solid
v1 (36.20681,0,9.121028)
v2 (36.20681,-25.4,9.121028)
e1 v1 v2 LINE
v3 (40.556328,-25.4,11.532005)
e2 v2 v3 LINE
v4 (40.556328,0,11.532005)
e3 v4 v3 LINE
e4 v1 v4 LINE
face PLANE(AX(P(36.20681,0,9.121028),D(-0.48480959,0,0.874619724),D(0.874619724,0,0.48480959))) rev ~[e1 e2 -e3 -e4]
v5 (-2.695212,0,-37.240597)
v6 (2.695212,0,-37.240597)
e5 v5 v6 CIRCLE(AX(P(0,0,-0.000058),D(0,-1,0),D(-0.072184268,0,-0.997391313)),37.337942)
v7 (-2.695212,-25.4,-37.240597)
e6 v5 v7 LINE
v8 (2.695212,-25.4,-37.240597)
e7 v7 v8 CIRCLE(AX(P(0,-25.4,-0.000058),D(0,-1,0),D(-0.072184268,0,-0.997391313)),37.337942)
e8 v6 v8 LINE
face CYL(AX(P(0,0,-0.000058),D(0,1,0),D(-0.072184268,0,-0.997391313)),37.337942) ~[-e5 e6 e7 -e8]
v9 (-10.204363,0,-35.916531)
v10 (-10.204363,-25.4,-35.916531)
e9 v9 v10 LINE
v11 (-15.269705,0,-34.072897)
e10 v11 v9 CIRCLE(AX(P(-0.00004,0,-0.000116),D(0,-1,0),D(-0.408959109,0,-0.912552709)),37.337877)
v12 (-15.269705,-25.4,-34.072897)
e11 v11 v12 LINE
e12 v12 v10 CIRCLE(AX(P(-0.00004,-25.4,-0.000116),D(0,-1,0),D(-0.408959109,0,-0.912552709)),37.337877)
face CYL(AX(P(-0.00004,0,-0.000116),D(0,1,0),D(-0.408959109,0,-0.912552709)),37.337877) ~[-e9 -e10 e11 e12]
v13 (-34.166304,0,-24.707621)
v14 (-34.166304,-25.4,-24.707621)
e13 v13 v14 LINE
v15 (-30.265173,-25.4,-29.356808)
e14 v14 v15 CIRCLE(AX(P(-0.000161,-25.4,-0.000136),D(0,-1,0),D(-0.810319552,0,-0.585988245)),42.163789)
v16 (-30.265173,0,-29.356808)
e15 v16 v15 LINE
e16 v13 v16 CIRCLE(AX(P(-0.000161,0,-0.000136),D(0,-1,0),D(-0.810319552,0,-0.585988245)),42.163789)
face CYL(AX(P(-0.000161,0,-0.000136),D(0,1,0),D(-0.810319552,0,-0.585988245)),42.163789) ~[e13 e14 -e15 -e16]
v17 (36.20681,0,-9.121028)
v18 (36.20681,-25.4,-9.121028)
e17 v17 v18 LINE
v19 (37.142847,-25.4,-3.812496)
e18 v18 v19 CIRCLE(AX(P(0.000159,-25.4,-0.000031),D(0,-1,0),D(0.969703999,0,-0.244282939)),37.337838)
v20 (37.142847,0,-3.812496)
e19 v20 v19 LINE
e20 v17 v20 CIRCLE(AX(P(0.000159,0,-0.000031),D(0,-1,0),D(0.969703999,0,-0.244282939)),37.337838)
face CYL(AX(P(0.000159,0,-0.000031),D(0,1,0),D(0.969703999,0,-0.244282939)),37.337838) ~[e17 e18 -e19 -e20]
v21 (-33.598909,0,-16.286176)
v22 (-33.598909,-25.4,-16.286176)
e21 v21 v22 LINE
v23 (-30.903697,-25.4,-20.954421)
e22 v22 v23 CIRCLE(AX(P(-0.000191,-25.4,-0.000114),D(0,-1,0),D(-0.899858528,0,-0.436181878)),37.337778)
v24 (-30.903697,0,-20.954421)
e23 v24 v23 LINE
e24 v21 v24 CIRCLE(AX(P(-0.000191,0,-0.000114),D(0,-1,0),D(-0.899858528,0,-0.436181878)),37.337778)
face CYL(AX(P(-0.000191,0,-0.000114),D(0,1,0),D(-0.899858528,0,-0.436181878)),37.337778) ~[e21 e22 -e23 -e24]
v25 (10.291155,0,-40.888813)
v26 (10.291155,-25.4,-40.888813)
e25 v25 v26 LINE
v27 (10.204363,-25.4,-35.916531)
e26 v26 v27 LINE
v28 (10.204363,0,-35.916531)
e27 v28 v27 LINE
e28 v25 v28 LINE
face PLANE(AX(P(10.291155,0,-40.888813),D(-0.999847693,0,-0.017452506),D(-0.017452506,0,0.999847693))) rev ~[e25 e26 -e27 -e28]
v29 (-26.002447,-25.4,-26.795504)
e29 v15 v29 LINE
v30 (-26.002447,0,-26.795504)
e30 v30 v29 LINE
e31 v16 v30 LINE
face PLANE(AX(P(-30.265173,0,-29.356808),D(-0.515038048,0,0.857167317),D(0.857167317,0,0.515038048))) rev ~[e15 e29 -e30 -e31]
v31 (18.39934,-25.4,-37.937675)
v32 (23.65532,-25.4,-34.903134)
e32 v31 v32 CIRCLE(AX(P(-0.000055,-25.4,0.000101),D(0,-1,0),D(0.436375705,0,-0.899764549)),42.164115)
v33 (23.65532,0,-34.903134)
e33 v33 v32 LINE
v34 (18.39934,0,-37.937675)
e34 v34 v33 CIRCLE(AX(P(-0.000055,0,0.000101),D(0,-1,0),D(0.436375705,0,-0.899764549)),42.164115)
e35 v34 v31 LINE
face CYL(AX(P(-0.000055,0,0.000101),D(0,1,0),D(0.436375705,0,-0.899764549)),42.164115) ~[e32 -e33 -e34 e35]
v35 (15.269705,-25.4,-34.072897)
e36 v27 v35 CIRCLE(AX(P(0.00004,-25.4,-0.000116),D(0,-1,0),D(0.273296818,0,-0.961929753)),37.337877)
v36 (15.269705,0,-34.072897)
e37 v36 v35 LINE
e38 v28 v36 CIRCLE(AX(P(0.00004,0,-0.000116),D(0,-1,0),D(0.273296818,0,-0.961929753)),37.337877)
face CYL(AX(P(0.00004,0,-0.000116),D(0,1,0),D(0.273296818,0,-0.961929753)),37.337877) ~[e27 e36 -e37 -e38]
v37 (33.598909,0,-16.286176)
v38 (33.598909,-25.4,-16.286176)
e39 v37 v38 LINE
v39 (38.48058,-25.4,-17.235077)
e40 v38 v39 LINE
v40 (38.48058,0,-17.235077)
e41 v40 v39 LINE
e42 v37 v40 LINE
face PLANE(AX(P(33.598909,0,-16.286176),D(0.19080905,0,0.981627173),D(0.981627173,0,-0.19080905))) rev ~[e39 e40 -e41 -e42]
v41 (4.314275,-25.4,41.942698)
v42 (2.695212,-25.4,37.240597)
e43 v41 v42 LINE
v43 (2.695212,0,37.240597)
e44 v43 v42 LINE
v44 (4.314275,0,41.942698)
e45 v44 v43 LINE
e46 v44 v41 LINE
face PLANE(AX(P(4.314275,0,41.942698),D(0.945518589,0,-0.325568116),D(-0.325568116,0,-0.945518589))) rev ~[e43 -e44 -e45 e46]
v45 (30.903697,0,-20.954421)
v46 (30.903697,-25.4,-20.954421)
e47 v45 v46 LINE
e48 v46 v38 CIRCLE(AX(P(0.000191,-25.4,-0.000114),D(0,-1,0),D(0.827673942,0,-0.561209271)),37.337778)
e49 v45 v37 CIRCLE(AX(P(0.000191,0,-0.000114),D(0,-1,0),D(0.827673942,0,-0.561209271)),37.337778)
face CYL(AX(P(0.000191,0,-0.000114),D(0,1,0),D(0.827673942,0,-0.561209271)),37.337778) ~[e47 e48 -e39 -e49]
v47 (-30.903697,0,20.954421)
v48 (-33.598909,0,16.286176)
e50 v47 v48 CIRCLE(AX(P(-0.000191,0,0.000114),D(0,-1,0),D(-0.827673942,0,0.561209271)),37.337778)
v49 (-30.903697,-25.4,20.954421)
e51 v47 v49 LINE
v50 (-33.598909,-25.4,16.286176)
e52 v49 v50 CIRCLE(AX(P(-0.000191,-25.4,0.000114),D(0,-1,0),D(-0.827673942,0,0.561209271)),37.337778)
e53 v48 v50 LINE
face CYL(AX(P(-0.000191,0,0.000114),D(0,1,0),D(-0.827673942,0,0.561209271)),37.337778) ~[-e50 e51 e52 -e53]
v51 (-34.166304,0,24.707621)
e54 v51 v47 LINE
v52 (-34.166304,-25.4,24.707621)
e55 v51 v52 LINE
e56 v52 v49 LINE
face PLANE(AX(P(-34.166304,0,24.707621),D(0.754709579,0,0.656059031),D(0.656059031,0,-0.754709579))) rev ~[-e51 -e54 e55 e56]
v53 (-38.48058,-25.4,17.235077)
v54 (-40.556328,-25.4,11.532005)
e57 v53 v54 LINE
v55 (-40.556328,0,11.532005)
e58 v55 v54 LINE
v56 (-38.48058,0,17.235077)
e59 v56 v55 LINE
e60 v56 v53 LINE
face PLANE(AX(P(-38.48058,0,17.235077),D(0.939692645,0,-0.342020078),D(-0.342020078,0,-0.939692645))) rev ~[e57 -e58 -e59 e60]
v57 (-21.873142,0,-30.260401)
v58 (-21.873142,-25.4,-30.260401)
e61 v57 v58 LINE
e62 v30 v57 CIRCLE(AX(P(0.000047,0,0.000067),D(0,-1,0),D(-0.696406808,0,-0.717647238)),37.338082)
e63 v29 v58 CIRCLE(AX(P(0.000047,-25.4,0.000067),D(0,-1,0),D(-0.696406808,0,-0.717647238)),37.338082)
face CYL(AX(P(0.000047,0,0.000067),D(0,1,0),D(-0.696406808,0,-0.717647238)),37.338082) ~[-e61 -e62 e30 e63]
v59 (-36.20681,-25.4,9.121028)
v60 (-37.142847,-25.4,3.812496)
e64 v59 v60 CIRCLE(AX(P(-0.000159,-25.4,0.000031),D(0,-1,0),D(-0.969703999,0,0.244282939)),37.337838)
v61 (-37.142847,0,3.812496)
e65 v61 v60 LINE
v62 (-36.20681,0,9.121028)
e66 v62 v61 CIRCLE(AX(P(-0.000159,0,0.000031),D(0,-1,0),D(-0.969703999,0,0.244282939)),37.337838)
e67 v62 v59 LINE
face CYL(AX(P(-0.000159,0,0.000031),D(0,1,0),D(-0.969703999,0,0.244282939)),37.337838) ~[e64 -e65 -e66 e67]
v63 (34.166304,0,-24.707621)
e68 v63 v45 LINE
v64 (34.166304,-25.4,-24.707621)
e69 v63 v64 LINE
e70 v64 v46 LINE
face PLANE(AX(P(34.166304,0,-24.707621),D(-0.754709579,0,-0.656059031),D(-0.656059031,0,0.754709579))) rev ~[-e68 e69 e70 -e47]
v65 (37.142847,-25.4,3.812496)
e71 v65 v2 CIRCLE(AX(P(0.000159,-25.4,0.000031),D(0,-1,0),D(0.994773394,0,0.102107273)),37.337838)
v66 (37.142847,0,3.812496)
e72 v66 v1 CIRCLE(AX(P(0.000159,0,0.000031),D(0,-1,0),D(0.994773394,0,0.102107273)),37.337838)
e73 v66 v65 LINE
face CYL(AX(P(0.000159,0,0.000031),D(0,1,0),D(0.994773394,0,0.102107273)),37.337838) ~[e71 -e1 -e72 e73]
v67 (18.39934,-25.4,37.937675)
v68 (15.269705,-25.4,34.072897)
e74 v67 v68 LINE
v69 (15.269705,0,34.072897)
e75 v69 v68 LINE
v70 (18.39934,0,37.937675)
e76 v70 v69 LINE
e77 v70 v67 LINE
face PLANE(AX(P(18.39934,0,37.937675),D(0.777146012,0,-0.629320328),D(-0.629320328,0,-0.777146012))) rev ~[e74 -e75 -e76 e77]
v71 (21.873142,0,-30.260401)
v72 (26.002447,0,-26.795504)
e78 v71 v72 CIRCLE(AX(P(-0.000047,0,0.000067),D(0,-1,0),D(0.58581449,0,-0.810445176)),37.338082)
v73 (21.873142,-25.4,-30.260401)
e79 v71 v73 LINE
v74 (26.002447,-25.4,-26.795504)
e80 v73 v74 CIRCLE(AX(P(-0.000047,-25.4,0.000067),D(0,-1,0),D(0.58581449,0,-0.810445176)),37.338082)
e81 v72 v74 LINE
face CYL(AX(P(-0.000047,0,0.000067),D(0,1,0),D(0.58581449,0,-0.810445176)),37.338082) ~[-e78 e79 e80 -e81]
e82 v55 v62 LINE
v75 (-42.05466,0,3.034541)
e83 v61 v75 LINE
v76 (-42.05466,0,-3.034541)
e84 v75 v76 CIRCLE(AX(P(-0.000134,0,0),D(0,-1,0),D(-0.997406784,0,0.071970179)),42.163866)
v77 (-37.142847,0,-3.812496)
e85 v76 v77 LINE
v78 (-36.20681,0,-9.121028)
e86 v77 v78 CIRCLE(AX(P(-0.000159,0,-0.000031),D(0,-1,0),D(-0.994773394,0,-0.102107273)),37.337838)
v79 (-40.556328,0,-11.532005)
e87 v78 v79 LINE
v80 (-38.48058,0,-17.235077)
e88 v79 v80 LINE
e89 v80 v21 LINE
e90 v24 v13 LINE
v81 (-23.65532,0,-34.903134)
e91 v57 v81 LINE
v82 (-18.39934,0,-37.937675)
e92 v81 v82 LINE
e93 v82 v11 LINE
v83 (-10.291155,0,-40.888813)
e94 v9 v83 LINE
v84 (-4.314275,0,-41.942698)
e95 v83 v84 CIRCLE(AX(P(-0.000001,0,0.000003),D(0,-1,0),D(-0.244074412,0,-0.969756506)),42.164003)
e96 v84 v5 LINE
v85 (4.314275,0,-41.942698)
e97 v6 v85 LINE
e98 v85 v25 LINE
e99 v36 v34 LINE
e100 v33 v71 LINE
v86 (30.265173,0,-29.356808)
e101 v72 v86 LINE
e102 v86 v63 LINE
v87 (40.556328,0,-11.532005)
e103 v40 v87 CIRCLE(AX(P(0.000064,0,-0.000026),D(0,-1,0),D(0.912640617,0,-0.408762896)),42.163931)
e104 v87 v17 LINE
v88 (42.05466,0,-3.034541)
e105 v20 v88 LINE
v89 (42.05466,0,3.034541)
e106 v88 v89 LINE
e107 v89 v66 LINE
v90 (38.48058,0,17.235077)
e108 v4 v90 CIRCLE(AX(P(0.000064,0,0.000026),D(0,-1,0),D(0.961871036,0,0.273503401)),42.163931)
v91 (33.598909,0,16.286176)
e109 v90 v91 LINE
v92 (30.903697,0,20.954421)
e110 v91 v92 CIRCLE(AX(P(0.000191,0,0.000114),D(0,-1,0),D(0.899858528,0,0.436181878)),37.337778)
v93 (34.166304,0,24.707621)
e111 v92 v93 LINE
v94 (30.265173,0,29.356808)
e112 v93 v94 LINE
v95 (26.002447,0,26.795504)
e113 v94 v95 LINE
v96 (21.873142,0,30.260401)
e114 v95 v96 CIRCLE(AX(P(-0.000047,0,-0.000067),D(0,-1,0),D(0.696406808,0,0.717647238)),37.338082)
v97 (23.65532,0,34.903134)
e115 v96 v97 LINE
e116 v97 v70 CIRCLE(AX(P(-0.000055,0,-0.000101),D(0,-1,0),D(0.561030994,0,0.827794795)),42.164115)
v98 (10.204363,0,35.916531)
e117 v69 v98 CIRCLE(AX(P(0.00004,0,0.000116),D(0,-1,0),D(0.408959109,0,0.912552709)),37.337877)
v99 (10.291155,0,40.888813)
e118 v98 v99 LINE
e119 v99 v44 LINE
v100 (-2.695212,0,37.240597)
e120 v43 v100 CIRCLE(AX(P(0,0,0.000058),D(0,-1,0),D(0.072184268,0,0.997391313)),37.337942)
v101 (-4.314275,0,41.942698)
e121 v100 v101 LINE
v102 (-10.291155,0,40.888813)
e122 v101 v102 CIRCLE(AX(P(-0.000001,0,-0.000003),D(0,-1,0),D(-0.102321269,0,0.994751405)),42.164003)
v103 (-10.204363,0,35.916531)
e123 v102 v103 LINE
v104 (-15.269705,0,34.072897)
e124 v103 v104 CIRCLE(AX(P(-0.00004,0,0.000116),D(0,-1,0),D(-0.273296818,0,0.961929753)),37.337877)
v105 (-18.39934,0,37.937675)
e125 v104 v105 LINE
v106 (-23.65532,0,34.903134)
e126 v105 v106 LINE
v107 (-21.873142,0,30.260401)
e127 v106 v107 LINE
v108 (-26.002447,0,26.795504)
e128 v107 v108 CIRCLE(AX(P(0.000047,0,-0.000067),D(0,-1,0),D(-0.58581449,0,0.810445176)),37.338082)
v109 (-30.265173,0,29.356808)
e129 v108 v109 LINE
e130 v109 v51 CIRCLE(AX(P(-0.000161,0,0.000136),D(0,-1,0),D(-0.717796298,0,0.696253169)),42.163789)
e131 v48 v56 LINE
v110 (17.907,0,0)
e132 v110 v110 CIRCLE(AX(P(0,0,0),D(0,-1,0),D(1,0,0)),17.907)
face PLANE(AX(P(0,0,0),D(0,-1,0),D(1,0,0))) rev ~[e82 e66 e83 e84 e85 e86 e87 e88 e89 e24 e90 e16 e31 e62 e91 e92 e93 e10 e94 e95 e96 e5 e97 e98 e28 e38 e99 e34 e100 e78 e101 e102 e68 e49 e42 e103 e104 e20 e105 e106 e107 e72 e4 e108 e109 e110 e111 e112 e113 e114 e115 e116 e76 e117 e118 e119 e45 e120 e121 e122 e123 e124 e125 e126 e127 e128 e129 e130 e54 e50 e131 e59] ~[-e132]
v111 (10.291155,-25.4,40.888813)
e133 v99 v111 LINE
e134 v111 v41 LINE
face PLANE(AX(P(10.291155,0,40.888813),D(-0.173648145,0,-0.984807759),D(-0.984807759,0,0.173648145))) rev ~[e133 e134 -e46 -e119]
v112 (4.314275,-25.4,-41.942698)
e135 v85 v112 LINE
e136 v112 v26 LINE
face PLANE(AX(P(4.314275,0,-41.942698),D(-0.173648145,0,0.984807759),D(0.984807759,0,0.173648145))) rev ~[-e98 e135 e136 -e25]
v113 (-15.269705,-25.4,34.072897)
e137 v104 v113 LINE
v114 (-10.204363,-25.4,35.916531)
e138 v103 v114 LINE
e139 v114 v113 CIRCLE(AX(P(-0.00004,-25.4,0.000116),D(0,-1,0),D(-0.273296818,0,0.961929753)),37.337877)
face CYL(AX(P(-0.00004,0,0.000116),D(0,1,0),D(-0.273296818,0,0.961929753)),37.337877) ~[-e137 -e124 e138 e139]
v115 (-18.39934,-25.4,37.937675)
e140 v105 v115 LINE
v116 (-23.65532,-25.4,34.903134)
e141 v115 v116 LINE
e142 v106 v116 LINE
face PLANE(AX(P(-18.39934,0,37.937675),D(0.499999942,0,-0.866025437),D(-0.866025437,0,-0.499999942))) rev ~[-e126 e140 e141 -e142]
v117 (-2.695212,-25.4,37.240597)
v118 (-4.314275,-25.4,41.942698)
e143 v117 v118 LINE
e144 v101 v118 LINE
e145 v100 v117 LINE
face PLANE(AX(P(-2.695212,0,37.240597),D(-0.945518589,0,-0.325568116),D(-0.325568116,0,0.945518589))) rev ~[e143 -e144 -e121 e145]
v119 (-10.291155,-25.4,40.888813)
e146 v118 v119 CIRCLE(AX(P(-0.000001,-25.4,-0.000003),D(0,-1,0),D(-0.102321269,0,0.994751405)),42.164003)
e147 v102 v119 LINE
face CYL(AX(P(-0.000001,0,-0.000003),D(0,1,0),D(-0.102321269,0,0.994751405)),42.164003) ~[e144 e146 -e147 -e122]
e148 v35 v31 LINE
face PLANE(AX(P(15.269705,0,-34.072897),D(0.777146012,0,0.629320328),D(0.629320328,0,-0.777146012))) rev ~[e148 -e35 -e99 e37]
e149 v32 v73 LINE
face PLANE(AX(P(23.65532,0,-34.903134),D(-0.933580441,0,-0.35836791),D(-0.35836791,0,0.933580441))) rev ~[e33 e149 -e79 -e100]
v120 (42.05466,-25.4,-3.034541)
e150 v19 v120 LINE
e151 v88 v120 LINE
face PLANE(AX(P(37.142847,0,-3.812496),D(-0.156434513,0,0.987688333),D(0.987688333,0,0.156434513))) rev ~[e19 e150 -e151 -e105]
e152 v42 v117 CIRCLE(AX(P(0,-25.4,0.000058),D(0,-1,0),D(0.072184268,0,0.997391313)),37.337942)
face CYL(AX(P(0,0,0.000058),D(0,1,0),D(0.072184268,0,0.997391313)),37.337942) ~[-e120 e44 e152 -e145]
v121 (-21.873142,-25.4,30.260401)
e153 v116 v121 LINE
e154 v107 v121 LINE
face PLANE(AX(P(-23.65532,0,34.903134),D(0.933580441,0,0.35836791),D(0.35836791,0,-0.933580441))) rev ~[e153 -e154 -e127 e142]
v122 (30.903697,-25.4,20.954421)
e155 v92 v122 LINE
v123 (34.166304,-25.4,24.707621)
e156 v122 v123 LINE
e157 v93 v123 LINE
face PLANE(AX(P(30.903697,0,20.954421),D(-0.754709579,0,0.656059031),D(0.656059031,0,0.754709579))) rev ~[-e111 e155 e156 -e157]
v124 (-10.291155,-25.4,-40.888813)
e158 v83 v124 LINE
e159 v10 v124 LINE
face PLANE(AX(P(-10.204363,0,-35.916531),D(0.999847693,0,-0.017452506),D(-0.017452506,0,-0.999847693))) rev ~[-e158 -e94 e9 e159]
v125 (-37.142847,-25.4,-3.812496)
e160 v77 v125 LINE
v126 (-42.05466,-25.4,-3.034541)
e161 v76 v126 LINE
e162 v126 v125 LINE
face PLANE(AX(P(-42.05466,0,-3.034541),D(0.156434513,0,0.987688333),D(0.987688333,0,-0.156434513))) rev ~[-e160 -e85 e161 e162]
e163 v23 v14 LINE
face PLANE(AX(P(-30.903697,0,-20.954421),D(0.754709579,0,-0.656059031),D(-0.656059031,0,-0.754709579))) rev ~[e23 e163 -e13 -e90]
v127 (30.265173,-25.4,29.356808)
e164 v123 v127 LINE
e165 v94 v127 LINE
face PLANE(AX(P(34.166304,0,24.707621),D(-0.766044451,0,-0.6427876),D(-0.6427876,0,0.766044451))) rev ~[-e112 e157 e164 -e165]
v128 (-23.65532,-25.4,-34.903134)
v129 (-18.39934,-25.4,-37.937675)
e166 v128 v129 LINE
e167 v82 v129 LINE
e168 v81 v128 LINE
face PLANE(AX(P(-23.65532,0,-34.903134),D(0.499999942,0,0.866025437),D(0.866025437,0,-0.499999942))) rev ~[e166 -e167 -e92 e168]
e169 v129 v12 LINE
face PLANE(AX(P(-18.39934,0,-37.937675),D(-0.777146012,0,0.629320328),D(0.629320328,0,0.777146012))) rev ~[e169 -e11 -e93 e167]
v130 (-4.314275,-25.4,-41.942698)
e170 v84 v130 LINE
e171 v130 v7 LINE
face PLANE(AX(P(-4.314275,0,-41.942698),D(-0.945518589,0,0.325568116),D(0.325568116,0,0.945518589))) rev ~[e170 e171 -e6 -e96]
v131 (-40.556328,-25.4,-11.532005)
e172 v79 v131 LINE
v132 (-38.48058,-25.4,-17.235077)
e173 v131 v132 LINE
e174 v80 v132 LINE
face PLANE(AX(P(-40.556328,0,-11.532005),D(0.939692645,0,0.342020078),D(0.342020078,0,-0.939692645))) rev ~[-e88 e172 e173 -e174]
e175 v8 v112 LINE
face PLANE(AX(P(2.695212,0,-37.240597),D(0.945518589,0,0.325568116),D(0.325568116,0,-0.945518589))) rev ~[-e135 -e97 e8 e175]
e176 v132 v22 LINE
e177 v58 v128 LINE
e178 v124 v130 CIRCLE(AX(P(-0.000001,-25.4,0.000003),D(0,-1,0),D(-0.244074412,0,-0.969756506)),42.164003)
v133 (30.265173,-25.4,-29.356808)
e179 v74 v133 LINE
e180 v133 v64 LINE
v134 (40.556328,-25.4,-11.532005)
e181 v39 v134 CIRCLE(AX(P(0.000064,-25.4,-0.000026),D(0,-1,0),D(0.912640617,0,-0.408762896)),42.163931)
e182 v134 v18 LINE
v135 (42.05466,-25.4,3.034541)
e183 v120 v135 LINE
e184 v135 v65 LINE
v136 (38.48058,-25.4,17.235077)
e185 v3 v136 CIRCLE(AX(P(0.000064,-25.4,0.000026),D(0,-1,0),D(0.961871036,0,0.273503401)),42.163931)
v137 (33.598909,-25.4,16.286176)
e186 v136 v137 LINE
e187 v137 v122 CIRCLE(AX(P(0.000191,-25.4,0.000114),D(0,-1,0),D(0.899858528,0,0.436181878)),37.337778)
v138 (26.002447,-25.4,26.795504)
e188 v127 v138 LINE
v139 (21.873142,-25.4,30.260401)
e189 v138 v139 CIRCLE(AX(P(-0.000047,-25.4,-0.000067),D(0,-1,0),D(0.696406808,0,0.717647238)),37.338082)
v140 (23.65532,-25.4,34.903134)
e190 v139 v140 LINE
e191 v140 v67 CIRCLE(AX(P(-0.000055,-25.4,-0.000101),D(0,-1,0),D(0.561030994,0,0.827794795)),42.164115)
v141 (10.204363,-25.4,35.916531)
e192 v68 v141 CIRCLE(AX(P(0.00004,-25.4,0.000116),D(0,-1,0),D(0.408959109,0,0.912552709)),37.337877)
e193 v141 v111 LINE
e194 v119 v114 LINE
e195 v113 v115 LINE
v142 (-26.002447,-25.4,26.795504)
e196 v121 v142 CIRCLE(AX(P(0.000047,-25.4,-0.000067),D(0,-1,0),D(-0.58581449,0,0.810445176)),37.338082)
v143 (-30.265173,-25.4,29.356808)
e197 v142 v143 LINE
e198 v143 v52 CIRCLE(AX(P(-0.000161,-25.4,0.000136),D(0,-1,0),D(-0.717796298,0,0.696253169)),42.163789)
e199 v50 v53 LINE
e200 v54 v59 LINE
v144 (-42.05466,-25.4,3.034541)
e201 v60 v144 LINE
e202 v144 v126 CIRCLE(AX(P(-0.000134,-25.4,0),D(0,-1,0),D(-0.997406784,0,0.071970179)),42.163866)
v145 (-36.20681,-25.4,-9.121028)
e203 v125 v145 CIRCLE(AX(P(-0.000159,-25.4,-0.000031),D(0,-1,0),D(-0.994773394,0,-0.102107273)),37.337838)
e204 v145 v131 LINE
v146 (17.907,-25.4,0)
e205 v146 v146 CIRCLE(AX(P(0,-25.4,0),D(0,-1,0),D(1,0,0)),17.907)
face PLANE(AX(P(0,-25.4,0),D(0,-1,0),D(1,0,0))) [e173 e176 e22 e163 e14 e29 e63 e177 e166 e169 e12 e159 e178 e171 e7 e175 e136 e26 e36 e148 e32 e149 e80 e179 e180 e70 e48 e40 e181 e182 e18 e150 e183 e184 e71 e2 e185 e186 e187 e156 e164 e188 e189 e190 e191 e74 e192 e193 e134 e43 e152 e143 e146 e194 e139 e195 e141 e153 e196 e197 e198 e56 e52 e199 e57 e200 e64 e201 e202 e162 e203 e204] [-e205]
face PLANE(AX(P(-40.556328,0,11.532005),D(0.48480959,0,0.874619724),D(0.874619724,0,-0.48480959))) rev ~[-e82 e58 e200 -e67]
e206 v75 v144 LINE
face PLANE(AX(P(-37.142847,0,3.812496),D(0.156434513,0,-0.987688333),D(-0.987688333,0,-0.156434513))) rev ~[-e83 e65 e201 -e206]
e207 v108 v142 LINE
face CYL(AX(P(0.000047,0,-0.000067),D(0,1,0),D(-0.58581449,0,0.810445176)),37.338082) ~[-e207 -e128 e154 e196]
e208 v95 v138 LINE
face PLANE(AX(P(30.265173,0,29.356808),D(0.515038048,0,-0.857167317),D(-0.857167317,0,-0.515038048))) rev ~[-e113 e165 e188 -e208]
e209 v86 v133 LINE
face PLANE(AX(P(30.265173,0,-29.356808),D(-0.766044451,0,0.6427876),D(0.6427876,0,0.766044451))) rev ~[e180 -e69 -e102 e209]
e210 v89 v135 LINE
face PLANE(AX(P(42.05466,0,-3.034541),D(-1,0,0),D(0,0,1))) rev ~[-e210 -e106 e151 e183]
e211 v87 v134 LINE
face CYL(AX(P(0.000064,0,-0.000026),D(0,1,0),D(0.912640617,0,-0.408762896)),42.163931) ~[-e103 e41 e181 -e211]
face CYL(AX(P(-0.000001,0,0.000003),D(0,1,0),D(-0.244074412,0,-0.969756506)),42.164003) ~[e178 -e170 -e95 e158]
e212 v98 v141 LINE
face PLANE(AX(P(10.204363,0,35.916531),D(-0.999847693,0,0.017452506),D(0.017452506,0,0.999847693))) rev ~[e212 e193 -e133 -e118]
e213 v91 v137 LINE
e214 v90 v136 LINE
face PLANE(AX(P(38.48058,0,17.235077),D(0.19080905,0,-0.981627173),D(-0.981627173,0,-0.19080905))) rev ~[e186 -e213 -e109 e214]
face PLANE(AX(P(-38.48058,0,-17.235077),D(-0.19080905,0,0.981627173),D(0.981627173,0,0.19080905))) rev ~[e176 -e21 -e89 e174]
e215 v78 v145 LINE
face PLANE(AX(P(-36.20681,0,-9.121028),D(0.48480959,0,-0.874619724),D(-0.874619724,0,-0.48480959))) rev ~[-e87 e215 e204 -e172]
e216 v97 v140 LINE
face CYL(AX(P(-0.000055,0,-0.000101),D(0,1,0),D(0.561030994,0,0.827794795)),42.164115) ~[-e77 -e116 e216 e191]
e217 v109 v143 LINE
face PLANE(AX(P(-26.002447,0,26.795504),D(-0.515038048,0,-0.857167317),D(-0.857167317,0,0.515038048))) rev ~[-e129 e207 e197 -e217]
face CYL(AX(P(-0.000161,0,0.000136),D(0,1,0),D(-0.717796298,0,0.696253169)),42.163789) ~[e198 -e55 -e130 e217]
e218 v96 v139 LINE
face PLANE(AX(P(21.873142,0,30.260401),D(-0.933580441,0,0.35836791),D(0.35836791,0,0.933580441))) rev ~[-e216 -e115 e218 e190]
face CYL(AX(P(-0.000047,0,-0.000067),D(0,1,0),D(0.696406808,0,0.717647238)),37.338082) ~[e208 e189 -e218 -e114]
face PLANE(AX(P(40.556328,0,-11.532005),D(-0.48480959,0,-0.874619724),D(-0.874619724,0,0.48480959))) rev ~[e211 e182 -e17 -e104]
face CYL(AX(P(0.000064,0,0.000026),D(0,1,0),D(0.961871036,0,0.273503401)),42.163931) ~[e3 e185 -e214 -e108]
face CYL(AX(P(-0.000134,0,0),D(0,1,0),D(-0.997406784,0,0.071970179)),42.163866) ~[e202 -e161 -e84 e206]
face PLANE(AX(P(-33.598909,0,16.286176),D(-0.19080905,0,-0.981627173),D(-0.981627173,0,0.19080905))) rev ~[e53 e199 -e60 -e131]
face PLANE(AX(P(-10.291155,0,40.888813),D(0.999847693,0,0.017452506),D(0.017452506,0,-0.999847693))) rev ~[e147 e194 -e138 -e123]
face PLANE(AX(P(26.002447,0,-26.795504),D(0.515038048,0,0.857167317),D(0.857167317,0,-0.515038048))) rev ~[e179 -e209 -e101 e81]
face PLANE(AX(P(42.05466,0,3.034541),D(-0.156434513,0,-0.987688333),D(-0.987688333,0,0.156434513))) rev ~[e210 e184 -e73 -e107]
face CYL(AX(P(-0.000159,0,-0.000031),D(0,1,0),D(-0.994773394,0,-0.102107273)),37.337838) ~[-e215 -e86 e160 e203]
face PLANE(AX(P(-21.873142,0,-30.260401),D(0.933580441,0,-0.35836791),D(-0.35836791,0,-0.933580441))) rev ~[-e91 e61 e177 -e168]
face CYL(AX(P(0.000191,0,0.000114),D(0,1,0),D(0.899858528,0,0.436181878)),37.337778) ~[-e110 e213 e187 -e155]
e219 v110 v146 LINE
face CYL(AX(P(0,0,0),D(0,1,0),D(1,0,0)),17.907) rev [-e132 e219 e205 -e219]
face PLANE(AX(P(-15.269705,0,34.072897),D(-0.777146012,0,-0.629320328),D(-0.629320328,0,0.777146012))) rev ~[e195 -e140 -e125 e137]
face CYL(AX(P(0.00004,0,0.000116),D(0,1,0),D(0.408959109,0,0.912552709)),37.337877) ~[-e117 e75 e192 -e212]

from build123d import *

# Parameters (mm, degrees)
F0_R     = 17.907
F1_DEPTH = 25.4


with BuildPart() as f1:
    # F0 (on Front) → F1 (new body)
    with BuildSketch(Plane.XZ):
        with BuildLine():
            Line((42.05466, 3.034541), (37.142847, 3.812496))
            ThreePointArc((37.142847, 3.812496), (36.770752, 6.483676), (36.20681, 9.121028))
            Line((36.20681, 9.121028), (40.556328, 11.532005))
            ThreePointArc((40.556328, 11.532005), (39.6212, 14.420937), (38.48058, 17.235077))
            Line((38.48058, 17.235077), (33.598909, 16.286176))
            ThreePointArc((33.598909, 16.286176), (32.335657, 18.669), (30.903697, 20.954421))
            Line((30.903697, 20.954421), (34.166304, 24.707621))
            Line((34.166304, 24.707621), (30.265173, 29.356808))
            Line((30.265173, 29.356808), (26.002447, 26.795504))
            ThreePointArc((26.002447, 26.795504), (24.000404, 28.602567), (21.873142, 30.260401))
            Line((21.873142, 30.260401), (23.65532, 34.903134))
            ThreePointArc((23.65532, 34.903134), (21.082, 36.515095), (18.39934, 37.937675))
            Line((18.39934, 37.937675), (15.269705, 34.072897))
            ThreePointArc((15.269705, 34.072897), (12.770348, 35.086243), (10.204363, 35.916531))
            Line((10.204363, 35.916531), (10.291155, 40.888813))
            Line((10.291155, 40.888813), (4.314275, 41.942698))
            Line((4.314275, 41.942698), (2.695212, 37.240597))
            ThreePointArc((2.695212, 37.240597), (0, 37.338), (-2.695212, 37.240597))
            Line((-2.695212, 37.240597), (-4.314275, 41.942698))
            ThreePointArc((-4.314275, 41.942698), (-7.321702, 41.523434), (-10.291155, 40.888813))
            Line((-10.291155, 40.888813), (-10.204363, 35.916531))
            ThreePointArc((-10.204363, 35.916531), (-12.770348, 35.086243), (-15.269705, 34.072897))
            Line((-15.269705, 34.072897), (-18.39934, 37.937675))
            Line((-18.39934, 37.937675), (-23.65532, 34.903134))
            Line((-23.65532, 34.903134), (-21.873142, 30.260401))
            ThreePointArc((-21.873142, 30.260401), (-24.000404, 28.602567), (-26.002447, 26.795504))
            Line((-26.002447, 26.795504), (-30.265173, 29.356808))
            ThreePointArc((-30.265173, 29.356808), (-32.299498, 27.102497), (-34.166304, 24.707621))
            Line((-34.166304, 24.707621), (-30.903697, 20.954421))
            ThreePointArc((-30.903697, 20.954421), (-32.335657, 18.669), (-33.598909, 16.286176))
            Line((-33.598909, 16.286176), (-38.48058, 17.235077))
            Line((-38.48058, 17.235077), (-40.556328, 11.532005))
            Line((-40.556328, 11.532005), (-36.20681, 9.121028))
            ThreePointArc((-36.20681, 9.121028), (-36.770752, 6.483676), (-37.142847, 3.812496))
            Line((-37.142847, 3.812496), (-42.05466, 3.034541))
            ThreePointArc((-42.05466, 3.034541), (-42.164, 0), (-42.05466, -3.034541))
            Line((-42.05466, -3.034541), (-37.142847, -3.812496))
            ThreePointArc((-37.142847, -3.812496), (-36.770752, -6.483676), (-36.20681, -9.121028))
            Line((-36.20681, -9.121028), (-40.556328, -11.532005))
            Line((-40.556328, -11.532005), (-38.48058, -17.235077))
            Line((-38.48058, -17.235077), (-33.598909, -16.286176))
            ThreePointArc((-33.598909, -16.286176), (-32.335657, -18.669), (-30.903697, -20.954421))
            Line((-30.903697, -20.954421), (-34.166304, -24.707621))
            ThreePointArc((-34.166304, -24.707621), (-32.299498, -27.102497), (-30.265173, -29.356808))
            Line((-30.265173, -29.356808), (-26.002447, -26.795504))
            ThreePointArc((-26.002447, -26.795504), (-24.000404, -28.602567), (-21.873142, -30.260401))
            Line((-21.873142, -30.260401), (-23.65532, -34.903134))
            Line((-23.65532, -34.903134), (-18.39934, -37.937675))
            Line((-18.39934, -37.937675), (-15.269705, -34.072897))
            ThreePointArc((-15.269705, -34.072897), (-12.770348, -35.086243), (-10.204363, -35.916531))
            Line((-10.204363, -35.916531), (-10.291155, -40.888813))
            ThreePointArc((-10.291155, -40.888813), (-7.321702, -41.523434), (-4.314275, -41.942698))
            Line((-4.314275, -41.942698), (-2.695212, -37.240597))
            ThreePointArc((-2.695212, -37.240597), (0, -37.338), (2.695212, -37.240597))
            Line((2.695212, -37.240597), (4.314275, -41.942698))
            Line((4.314275, -41.942698), (10.291155, -40.888813))
            Line((10.291155, -40.888813), (10.204363, -35.916531))
            ThreePointArc((10.204363, -35.916531), (12.770348, -35.086243), (15.269705, -34.072897))
            Line((15.269705, -34.072897), (18.39934, -37.937675))
            ThreePointArc((18.39934, -37.937675), (21.082, -36.515095), (23.65532, -34.903134))
            Line((23.65532, -34.903134), (21.873142, -30.260401))
            ThreePointArc((21.873142, -30.260401), (24.000404, -28.602567), (26.002447, -26.795504))
            Line((26.002447, -26.795504), (30.265173, -29.356808))
            Line((30.265173, -29.356808), (34.166304, -24.707621))
            Line((34.166304, -24.707621), (30.903697, -20.954421))
            ThreePointArc((30.903697, -20.954421), (32.335657, -18.669), (33.598909, -16.286176))
            Line((33.598909, -16.286176), (38.48058, -17.235077))
            ThreePointArc((38.48058, -17.235077), (39.6212, -14.420937), (40.556328, -11.532005))
            Line((40.556328, -11.532005), (36.20681, -9.121028))
            ThreePointArc((36.20681, -9.121028), (36.770752, -6.483676), (37.142847, -3.812496))
            Line((37.142847, -3.812496), (42.05466, -3.034541))
            Line((42.05466, -3.034541), (42.05466, 3.034541))
        make_face()
        Circle(F0_R, mode=Mode.SUBTRACT)
    extrude(amount=F1_DEPTH)


solid = f1.part
